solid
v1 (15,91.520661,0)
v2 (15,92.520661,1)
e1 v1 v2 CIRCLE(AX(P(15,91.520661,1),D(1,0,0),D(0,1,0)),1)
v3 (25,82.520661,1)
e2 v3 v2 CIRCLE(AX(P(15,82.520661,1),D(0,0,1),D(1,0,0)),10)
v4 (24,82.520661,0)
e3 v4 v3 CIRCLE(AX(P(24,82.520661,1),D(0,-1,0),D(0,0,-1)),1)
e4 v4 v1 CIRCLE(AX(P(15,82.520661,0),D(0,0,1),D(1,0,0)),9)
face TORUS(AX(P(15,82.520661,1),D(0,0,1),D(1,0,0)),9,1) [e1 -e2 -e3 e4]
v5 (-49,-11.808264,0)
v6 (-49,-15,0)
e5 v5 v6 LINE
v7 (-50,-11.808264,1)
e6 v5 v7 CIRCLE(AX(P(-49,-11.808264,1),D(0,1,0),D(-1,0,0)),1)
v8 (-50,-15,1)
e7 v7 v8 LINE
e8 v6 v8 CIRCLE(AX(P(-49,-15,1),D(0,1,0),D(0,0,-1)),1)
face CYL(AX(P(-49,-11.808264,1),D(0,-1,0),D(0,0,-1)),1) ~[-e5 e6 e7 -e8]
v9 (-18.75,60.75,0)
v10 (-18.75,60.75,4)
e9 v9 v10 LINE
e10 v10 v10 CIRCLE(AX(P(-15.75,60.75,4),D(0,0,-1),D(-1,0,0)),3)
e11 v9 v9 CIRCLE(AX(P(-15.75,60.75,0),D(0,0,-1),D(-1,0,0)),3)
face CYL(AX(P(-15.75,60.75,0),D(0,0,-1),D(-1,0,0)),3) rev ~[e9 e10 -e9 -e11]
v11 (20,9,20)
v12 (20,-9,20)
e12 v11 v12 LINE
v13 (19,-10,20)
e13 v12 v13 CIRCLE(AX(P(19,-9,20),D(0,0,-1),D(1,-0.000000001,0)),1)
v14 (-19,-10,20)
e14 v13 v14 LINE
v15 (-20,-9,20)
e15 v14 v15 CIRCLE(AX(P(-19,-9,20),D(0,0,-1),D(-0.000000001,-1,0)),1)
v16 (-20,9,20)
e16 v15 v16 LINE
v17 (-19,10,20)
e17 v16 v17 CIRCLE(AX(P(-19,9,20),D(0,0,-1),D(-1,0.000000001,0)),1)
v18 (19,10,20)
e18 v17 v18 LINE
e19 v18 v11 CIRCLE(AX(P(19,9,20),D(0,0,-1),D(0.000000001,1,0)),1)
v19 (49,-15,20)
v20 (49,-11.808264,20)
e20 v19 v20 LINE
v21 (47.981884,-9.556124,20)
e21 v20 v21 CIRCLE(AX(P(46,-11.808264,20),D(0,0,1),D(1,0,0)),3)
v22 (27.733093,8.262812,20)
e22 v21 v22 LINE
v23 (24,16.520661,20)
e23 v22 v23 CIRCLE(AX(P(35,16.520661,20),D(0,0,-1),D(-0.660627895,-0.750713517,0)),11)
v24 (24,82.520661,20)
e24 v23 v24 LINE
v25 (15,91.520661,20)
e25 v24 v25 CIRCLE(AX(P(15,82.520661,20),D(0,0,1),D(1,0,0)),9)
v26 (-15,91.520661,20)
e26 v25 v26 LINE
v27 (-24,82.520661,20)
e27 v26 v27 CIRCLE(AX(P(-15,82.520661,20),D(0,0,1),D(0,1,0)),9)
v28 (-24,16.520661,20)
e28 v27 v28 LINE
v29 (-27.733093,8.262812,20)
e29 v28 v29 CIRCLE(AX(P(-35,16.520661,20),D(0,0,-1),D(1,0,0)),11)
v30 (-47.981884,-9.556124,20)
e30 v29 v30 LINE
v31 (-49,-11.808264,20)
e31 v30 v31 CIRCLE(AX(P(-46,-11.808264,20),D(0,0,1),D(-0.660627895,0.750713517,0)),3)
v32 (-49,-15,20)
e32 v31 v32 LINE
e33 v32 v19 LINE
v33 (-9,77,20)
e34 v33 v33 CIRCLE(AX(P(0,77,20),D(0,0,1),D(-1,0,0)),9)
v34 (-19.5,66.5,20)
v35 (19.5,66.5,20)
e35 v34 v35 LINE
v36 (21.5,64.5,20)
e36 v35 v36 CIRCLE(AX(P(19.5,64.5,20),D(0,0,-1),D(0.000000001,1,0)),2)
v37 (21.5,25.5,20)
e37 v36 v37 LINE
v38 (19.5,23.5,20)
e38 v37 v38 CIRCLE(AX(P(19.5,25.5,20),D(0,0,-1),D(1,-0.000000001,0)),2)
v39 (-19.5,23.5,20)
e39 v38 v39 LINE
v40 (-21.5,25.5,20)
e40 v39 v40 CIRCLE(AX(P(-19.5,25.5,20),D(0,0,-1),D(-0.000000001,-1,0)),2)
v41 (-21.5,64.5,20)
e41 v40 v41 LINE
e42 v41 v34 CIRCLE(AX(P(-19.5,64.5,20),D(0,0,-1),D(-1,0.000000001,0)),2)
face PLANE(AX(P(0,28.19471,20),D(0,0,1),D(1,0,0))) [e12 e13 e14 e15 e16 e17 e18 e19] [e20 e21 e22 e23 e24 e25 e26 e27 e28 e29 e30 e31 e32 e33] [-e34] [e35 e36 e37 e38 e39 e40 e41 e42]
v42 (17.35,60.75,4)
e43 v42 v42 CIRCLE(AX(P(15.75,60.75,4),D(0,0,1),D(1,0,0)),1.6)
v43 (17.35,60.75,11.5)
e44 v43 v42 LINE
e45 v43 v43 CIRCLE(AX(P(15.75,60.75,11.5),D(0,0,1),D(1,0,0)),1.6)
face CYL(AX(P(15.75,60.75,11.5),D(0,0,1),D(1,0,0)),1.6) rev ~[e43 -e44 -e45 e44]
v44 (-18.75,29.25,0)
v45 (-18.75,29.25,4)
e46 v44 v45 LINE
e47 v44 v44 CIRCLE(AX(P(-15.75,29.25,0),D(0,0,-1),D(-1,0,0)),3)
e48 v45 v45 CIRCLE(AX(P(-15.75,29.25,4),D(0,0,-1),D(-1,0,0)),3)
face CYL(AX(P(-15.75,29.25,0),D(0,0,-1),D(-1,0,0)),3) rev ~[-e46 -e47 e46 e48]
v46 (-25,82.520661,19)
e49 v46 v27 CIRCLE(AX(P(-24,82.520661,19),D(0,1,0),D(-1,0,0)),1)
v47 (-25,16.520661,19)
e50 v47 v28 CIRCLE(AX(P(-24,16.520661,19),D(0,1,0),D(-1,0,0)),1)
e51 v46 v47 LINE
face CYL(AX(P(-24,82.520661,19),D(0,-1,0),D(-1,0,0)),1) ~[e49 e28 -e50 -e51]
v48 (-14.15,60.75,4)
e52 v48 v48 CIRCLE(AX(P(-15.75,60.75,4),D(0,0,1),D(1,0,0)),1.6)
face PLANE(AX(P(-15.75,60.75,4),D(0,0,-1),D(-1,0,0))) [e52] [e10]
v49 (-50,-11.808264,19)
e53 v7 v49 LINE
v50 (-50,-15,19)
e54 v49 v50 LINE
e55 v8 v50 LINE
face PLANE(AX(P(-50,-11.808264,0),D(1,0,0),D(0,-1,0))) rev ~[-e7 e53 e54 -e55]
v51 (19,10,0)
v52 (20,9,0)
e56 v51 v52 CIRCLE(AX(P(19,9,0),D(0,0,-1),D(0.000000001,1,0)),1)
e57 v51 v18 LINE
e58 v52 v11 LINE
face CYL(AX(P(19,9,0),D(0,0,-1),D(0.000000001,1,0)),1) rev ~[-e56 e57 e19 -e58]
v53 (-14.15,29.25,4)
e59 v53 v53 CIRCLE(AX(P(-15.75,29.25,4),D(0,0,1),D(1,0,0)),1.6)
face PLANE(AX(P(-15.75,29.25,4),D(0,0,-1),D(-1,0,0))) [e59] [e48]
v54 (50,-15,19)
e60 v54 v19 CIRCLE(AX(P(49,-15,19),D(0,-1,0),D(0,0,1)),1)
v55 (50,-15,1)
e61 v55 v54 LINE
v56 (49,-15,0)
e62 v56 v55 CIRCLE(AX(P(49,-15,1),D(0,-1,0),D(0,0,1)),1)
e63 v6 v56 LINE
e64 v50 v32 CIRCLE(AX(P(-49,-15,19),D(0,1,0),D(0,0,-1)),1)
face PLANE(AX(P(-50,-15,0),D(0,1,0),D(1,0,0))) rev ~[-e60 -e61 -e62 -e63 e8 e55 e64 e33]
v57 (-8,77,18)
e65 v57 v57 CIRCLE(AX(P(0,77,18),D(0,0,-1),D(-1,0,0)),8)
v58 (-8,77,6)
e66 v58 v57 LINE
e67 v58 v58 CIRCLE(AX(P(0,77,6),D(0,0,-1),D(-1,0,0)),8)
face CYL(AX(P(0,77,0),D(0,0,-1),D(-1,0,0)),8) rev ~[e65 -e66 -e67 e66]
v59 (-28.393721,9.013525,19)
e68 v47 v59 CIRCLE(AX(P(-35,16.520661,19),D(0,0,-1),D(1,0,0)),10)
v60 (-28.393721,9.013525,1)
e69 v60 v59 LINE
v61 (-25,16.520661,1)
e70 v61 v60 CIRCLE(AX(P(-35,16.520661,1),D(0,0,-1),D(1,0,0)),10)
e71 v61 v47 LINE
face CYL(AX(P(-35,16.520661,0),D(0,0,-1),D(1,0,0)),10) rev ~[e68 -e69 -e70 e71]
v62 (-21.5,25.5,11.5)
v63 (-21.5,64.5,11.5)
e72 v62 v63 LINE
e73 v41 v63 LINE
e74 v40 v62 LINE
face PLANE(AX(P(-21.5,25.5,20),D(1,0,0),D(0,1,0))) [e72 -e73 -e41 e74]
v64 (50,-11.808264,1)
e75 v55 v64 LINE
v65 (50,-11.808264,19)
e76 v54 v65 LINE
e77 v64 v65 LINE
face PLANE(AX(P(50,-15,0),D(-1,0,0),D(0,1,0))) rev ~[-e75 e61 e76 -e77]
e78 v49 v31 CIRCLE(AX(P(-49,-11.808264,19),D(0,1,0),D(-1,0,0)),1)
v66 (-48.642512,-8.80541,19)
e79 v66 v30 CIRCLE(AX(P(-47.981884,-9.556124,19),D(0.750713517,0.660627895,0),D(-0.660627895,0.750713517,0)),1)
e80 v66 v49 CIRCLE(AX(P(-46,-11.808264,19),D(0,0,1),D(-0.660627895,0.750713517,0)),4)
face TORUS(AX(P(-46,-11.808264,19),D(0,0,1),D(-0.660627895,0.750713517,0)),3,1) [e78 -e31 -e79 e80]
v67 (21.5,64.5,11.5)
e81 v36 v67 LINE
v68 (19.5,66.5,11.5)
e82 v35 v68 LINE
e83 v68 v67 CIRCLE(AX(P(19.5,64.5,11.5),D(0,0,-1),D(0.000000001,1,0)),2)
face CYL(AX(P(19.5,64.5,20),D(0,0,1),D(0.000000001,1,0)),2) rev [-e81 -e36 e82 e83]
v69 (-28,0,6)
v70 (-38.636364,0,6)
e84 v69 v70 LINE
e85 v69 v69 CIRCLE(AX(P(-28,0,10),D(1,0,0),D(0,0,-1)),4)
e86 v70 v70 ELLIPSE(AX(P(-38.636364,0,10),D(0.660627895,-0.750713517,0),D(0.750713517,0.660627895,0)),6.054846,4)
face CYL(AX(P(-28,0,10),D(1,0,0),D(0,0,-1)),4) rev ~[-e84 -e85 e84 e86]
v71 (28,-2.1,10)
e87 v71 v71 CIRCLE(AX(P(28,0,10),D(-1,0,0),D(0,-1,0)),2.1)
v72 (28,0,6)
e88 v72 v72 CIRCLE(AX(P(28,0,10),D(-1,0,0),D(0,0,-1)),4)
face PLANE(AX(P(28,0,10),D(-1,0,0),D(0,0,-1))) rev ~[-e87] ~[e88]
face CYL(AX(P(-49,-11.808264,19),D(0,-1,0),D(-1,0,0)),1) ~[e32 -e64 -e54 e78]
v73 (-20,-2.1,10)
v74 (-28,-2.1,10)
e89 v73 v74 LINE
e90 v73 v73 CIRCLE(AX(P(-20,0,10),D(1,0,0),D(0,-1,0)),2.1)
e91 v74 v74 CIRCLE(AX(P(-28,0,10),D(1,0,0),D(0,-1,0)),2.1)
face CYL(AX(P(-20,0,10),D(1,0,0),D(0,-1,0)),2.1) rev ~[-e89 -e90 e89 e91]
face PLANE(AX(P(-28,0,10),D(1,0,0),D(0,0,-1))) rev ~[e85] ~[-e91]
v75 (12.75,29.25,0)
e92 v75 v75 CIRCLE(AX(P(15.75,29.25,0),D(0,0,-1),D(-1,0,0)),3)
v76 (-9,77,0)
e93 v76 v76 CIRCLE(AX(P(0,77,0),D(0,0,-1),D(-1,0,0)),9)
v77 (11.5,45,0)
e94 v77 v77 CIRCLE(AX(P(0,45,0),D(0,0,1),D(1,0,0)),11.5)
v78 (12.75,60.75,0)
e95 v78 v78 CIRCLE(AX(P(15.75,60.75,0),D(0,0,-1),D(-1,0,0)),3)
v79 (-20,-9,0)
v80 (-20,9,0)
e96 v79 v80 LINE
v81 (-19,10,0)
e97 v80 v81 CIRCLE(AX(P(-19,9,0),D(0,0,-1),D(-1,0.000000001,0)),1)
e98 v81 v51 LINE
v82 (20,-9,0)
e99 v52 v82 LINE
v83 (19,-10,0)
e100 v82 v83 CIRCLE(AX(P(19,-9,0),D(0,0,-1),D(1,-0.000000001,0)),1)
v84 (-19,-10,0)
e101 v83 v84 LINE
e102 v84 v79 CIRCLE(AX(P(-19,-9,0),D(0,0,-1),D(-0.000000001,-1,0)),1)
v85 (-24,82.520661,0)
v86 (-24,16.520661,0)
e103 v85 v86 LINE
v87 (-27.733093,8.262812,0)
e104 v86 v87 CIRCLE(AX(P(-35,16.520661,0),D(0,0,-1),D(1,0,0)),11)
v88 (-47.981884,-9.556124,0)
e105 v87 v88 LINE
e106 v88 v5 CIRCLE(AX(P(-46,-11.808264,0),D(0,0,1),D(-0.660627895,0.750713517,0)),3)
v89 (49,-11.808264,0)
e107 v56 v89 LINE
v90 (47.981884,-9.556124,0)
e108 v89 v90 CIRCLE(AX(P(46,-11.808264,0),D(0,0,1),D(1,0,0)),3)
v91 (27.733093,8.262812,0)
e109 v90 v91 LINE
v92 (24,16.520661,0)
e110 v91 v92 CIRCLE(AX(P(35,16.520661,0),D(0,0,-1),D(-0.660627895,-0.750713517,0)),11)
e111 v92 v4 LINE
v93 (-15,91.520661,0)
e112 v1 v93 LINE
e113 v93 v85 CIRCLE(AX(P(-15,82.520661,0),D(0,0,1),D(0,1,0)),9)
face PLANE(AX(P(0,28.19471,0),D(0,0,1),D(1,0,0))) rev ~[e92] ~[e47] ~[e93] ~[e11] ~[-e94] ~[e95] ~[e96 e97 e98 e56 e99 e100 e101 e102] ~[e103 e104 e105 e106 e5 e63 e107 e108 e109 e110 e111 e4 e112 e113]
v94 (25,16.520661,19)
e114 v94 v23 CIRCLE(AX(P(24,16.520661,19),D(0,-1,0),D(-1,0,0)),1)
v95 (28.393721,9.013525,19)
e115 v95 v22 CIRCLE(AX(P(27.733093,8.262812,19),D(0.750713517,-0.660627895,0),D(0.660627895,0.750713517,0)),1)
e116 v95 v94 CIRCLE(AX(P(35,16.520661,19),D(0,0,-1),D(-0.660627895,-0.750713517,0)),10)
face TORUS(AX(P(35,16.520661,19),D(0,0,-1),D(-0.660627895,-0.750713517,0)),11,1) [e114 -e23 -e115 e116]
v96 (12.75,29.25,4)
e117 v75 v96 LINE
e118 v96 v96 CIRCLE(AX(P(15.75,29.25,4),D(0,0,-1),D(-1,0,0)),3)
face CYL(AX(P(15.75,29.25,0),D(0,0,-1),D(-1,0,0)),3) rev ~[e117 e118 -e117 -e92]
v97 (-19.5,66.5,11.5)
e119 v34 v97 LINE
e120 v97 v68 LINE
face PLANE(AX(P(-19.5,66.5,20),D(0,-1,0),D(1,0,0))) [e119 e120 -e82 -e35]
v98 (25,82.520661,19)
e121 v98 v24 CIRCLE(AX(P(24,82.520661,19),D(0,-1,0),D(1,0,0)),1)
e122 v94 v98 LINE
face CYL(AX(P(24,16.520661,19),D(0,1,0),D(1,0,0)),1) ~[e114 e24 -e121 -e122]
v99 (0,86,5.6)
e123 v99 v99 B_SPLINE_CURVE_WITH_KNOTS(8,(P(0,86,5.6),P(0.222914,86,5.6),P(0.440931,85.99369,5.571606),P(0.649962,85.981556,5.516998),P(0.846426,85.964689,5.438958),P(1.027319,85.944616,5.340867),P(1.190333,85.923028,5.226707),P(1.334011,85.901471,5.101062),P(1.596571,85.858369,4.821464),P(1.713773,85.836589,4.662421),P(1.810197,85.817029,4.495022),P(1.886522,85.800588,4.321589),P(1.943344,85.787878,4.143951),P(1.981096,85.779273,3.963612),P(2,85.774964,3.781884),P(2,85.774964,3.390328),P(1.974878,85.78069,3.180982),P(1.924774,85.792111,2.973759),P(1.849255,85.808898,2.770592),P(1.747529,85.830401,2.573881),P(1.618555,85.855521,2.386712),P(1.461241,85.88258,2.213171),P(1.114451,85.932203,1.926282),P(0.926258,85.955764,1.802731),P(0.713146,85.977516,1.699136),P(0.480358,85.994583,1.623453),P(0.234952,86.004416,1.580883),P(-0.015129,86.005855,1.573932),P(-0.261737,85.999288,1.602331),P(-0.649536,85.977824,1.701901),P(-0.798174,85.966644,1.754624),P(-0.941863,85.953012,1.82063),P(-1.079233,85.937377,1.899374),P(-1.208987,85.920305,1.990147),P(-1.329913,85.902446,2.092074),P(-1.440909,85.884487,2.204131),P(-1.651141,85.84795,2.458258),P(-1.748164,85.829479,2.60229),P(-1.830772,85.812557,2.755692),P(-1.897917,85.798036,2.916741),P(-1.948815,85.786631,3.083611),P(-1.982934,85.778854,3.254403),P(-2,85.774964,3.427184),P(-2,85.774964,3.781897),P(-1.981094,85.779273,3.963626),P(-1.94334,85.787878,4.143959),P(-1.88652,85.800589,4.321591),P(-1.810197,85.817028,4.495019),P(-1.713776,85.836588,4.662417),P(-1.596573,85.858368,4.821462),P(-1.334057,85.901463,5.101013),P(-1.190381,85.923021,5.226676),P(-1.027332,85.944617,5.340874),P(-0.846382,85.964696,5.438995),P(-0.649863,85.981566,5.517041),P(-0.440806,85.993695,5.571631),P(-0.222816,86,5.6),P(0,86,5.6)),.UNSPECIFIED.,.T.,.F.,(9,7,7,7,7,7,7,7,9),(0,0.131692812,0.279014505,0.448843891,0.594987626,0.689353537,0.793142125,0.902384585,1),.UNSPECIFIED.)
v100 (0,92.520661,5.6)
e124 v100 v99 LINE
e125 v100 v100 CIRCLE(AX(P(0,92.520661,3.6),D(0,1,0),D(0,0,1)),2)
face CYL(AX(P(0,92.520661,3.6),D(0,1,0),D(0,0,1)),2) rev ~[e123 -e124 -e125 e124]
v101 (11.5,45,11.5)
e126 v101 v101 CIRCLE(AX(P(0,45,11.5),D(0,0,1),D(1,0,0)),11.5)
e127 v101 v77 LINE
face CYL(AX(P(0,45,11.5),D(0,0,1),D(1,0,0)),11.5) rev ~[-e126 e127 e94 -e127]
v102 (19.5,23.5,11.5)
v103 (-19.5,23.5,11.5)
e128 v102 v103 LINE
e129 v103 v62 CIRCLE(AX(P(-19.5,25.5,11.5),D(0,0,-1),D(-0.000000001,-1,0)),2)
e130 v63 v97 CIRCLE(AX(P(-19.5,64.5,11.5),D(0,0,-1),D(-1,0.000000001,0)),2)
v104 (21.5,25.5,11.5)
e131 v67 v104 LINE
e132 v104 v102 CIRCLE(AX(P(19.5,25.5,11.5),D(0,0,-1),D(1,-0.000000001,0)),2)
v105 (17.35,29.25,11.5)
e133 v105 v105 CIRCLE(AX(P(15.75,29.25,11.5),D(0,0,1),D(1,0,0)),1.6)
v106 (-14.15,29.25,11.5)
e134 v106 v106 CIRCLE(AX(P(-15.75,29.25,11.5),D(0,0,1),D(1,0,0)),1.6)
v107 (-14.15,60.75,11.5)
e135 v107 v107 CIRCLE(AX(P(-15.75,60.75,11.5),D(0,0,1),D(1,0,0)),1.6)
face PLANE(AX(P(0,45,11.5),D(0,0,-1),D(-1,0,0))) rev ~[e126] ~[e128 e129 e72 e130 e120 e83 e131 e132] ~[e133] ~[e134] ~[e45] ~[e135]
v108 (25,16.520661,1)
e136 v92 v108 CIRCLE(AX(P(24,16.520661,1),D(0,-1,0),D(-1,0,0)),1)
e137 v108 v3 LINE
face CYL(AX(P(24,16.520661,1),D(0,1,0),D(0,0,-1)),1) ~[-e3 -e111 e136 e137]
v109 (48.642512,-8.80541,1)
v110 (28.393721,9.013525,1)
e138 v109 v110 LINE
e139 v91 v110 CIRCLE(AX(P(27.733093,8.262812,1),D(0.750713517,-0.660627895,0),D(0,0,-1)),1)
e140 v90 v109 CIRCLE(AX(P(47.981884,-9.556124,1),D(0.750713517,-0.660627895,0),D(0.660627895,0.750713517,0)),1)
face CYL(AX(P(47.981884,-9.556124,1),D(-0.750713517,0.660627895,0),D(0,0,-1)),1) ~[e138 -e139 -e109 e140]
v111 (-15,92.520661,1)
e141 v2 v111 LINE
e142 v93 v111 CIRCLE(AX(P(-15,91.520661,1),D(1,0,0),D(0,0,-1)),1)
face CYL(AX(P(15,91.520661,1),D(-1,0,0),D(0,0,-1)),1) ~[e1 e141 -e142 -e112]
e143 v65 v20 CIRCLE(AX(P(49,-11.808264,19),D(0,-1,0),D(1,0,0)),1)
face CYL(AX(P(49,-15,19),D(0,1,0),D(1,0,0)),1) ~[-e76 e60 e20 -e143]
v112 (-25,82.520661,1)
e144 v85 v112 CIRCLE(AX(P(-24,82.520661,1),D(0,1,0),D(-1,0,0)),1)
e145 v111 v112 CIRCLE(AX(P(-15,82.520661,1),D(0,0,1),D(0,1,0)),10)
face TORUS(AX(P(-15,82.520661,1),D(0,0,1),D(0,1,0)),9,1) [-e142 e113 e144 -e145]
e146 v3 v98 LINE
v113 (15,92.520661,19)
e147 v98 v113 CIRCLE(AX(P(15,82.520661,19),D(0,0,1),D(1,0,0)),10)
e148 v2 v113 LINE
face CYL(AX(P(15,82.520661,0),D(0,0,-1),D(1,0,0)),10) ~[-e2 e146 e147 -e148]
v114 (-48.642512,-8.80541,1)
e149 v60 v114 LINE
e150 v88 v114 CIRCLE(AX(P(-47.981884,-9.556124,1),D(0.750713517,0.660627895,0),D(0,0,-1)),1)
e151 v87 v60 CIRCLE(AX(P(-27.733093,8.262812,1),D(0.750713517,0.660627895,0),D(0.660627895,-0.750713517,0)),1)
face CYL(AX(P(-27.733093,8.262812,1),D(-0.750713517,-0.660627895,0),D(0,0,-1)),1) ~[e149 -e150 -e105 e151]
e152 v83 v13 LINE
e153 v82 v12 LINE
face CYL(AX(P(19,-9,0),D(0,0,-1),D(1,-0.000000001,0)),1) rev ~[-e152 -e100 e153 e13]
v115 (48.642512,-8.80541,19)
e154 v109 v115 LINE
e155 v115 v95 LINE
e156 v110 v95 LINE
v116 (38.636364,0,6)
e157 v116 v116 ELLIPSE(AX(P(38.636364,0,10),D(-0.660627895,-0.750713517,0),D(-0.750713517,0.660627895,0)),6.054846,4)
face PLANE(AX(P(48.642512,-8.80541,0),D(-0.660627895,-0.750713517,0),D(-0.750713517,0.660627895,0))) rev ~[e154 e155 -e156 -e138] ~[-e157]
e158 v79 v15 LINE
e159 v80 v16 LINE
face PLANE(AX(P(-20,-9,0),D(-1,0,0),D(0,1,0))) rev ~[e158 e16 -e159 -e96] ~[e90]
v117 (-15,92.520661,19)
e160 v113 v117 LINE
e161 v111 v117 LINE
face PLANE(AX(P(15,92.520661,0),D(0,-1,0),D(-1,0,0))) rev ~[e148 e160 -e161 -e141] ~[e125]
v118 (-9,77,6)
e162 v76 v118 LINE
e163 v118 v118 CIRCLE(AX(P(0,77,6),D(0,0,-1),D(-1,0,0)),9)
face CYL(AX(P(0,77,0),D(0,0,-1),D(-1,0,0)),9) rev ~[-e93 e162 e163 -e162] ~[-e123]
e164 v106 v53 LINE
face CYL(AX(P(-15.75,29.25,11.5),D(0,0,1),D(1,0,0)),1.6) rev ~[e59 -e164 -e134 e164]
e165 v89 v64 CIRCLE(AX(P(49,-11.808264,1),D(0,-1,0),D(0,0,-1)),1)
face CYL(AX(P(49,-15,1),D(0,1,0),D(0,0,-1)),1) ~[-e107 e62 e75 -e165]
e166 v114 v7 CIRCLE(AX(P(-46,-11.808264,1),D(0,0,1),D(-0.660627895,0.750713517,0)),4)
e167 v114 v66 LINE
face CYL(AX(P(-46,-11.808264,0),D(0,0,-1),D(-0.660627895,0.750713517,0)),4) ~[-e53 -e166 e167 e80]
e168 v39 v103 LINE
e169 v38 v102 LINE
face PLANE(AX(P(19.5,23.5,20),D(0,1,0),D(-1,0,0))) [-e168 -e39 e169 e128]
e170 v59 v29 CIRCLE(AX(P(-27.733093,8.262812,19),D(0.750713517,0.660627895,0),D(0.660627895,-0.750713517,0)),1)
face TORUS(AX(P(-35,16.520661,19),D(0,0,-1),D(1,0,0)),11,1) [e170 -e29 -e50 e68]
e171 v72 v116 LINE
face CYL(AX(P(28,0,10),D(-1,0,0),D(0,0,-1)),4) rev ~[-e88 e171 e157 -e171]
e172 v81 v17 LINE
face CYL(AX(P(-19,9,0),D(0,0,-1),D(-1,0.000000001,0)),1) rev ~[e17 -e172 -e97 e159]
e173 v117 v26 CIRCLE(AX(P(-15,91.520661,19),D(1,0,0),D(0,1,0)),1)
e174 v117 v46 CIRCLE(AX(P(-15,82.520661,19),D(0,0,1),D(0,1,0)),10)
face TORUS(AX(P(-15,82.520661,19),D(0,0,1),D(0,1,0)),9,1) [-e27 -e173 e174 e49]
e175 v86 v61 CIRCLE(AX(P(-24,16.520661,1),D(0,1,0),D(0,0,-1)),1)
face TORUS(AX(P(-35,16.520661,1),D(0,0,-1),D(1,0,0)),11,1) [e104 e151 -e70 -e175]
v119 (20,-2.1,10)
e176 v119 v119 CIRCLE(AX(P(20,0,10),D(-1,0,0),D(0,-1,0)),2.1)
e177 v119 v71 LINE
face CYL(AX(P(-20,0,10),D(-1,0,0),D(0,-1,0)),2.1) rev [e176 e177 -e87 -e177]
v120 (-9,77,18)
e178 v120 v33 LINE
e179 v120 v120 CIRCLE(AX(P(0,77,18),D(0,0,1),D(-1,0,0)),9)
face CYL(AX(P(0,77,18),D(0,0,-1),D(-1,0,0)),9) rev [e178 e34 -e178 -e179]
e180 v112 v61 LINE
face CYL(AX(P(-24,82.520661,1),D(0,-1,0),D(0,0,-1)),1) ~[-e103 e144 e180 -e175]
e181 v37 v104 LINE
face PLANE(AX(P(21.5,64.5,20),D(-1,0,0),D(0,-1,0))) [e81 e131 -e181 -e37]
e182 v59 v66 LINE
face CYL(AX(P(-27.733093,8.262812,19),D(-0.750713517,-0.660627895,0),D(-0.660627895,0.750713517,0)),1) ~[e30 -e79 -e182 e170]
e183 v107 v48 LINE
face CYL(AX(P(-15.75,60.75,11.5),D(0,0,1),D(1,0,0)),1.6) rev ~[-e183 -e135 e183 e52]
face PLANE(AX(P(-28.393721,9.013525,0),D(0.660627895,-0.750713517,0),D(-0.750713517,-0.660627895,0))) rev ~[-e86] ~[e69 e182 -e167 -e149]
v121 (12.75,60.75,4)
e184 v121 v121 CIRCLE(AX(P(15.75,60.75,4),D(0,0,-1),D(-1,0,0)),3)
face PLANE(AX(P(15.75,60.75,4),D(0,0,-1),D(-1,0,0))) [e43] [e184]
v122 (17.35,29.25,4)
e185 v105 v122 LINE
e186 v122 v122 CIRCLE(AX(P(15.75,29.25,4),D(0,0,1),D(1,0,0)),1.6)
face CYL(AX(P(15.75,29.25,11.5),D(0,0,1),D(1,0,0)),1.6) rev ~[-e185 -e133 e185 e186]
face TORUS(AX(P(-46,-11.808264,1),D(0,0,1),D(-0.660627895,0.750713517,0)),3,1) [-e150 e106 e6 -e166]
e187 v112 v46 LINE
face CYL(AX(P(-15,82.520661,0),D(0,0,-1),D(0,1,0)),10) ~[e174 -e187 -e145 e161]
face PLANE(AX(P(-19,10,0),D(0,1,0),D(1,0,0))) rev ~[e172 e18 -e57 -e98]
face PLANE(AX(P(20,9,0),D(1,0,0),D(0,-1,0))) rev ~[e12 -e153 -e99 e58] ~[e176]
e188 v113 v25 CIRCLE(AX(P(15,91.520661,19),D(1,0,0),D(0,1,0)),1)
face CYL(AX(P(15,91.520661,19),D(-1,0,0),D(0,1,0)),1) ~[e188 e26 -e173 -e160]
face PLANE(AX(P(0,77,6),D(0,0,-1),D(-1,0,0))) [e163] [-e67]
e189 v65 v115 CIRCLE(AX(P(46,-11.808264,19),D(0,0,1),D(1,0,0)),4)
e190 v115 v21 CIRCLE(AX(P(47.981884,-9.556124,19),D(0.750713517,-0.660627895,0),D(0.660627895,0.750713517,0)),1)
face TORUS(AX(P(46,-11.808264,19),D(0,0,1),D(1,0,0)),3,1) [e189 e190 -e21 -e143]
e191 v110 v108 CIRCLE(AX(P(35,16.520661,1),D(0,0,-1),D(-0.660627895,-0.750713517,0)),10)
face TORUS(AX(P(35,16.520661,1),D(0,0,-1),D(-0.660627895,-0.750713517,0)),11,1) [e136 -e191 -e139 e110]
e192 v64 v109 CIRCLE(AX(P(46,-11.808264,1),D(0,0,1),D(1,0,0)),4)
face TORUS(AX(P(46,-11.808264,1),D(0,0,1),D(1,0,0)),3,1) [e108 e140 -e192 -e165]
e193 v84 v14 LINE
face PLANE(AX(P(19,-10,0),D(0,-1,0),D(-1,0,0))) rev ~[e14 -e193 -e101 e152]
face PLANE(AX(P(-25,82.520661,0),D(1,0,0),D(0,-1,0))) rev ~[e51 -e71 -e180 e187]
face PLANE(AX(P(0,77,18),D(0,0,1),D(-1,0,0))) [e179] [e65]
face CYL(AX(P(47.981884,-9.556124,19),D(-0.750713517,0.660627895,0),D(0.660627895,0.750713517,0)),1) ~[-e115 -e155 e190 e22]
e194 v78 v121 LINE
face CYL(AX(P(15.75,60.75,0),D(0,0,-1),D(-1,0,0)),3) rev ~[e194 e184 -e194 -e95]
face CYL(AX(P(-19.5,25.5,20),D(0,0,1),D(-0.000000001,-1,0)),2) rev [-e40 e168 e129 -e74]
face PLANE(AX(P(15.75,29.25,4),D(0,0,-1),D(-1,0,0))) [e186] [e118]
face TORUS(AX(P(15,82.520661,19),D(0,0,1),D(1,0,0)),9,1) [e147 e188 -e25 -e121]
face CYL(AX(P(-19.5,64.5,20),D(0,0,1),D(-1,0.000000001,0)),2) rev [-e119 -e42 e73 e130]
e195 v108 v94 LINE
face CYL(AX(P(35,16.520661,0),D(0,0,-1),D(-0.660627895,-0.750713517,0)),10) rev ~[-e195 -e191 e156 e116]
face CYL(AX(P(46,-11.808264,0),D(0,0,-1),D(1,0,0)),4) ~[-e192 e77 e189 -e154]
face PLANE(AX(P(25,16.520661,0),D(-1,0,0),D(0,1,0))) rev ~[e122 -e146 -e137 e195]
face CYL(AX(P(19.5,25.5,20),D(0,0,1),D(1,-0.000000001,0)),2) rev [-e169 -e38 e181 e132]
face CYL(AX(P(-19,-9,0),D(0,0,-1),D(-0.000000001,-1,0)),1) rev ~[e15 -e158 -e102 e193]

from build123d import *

# Parameters (mm, degrees)
BOSS_EXTRUDE1_DEPTH             = 20
CUT_EXTRUDE3_DEPTH              = 8.5
CUT_EXTRUDE4_REACH              = 107.794
SKETCH5_R                       = 11.5
SKETCH5_R_2                     = 1.6
CUT_EXTRUDE5_REACH              = 109.052
SKETCH6_R                       = 8
SKETCH7_R                       = 3
CUT_EXTRUDE6_DEPTH              = 4
SKETCH8_R                       = 9
CUT_EXTRUDE7_DEPTH              = 6
CUT_EXTRUDE8_START              = -2
SKETCH9_R                       = 9
CUT_EXTRUDE8_DEPTH              = 2
CUT_EXTRUDE9_REACH              = 122.253
CUT_EXTRUDE9_END_RADIUS         = 9
SKETCH10_R                      = 2
FILLET1_R                       = 1
CUT_EXTRUDE10_REACH             = 119.729
SKETCH11_R                      = 2.1
CUT_EXTRUDE10_DIRECTION_2_REACH = 119.729
CUT_EXTRUDE11_REACH             = 127.729
CUT_EXTRUDE11_START             = -8
SKETCH12_R                      = 4
CUT_EXTRUDE12_REACH             = 127.729
CUT_EXTRUDE12_START             = -8
SKETCH13_R                      = 4


with BuildPart() as part:
    # Sketch1 → Boss-Extrude1 (new body)
    with BuildSketch(Plane.XY):
        with BuildLine():
            Line((-50, -15), (50, -15))
            Line((50, -15), (50, -11.808264258))
            ThreePointArc((50, -11.808264258), (49.644862571, -10.16054558), (48.64251158, -8.80541019))
            Line((48.64251158, -8.80541019), (28.393721051, 9.013525475))
            ThreePointArc((28.393721051, 9.013525475), (25.887843573, 12.40136395), (25, 16.520660644))
            Line((25, 16.520660644), (25, 82.520660644))
            ThreePointArc((25, 82.520660644), (22.071067812, 89.591728456), (15, 92.520660644))
            Line((15, 92.520660644), (-15, 92.520660644))
            ThreePointArc((-15, 92.520660644), (-22.071067812, 89.591728456), (-25, 82.520660644))
            Line((-25, 82.520660644), (-25, 16.520660644))
            ThreePointArc((-25, 16.520660644), (-25.887843573, 12.40136395), (-28.393721051, 9.013525475))
            Line((-28.393721051, 9.013525475), (-48.64251158, -8.80541019))
            ThreePointArc((-48.64251158, -8.80541019), (-49.644862571, -10.16054558), (-50, -11.808264258))
            Line((-50, -11.808264258), (-50, -15))
        make_face()
        with BuildLine():
            Line((-19, 10), (19, 10))
            ThreePointArc((19, 10), (19.707106781, 9.707106781), (20, 9))
            Line((20, 9), (20, -9))
            ThreePointArc((20, -9), (19.707106781, -9.707106781), (19, -10))
            Line((19, -10), (-19, -10))
            ThreePointArc((-19, -10), (-19.707106781, -9.707106781), (-20, -9))
            Line((-20, -9), (-20, 9))
            ThreePointArc((-20, 9), (-19.707106781, 9.707106781), (-19, 10))
        make_face(mode=Mode.SUBTRACT)
    extrude(amount=BOSS_EXTRUDE1_DEPTH)

    # Sketch4 → Cut-Extrude3 (cut)
    with BuildSketch(Plane.XY.offset(20)):
        with BuildLine():
            Line((-19.5, 66.5), (19.5, 66.5))
            ThreePointArc((19.5, 66.5), (20.914213562, 65.914213562), (21.5, 64.5))
            Line((21.5, 64.5), (21.5, 25.5))
            ThreePointArc((21.5, 25.5), (20.914213562, 24.085786438), (19.5, 23.5))
            Line((19.5, 23.5), (-19.5, 23.5))
            ThreePointArc((-19.5, 23.5), (-20.914213562, 24.085786438), (-21.5, 25.5))
            Line((-21.5, 25.5), (-21.5, 64.5))
            ThreePointArc((-21.5, 64.5), (-20.914213562, 65.914213562), (-19.5, 66.5))
        make_face()
    extrude(amount=-CUT_EXTRUDE3_DEPTH, mode=Mode.SUBTRACT)

    # Sketch5 → Cut-Extrude4 (cut, up to next)
    with BuildSketch(Plane.XY.offset(11.5), mode=Mode.PRIVATE) as cut_extrude4_sk1:
        with Locations((0, 45)):
            Circle(SKETCH5_R)
    cut_extrude4_tool1 = extrude(cut_extrude4_sk1.sketch, amount=-CUT_EXTRUDE4_REACH, mode=Mode.PRIVATE) & part.part
    # Sketch5 → Cut-Extrude4 (cut, up to next)
    with BuildSketch(Plane.XY.offset(11.5), mode=Mode.PRIVATE) as cut_extrude4_sk2:
        with Locations((-15.75, 60.75)):
            Circle(SKETCH5_R_2)
    cut_extrude4_tool2 = extrude(cut_extrude4_sk2.sketch, amount=-CUT_EXTRUDE4_REACH, mode=Mode.PRIVATE) & part.part
    # Sketch5 → Cut-Extrude4 (cut, up to next)
    with BuildSketch(Plane.XY.offset(11.5), mode=Mode.PRIVATE) as cut_extrude4_sk3:
        with Locations((15.75, 60.75)):
            Circle(SKETCH5_R_2)
    cut_extrude4_tool3 = extrude(cut_extrude4_sk3.sketch, amount=-CUT_EXTRUDE4_REACH, mode=Mode.PRIVATE) & part.part
    # Sketch5 → Cut-Extrude4 (cut, up to next)
    with BuildSketch(Plane.XY.offset(11.5), mode=Mode.PRIVATE) as cut_extrude4_sk4:
        with Locations((-15.75, 29.25)):
            Circle(SKETCH5_R_2)
    cut_extrude4_tool4 = extrude(cut_extrude4_sk4.sketch, amount=-CUT_EXTRUDE4_REACH, mode=Mode.PRIVATE) & part.part
    # Sketch5 → Cut-Extrude4 (cut, up to next)
    with BuildSketch(Plane.XY.offset(11.5), mode=Mode.PRIVATE) as cut_extrude4_sk5:
        with Locations((15.75, 29.25)):
            Circle(SKETCH5_R_2)
    cut_extrude4_tool5 = extrude(cut_extrude4_sk5.sketch, amount=-CUT_EXTRUDE4_REACH, mode=Mode.PRIVATE) & part.part
    add(cut_extrude4_tool1.solids().sort_by_distance((0, 45, 11.5))[0], mode=Mode.SUBTRACT)
    add(cut_extrude4_tool2.solids().sort_by_distance((-15.75, 60.75, 11.5))[0], mode=Mode.SUBTRACT)
    add(cut_extrude4_tool3.solids().sort_by_distance((15.75, 60.75, 11.5))[0], mode=Mode.SUBTRACT)
    add(cut_extrude4_tool4.solids().sort_by_distance((-15.75, 29.25, 11.5))[0], mode=Mode.SUBTRACT)
    add(cut_extrude4_tool5.solids().sort_by_distance((15.75, 29.25, 11.5))[0], mode=Mode.SUBTRACT)

    # Sketch6 → Cut-Extrude5 (cut, up to next)
    with BuildSketch(Plane(origin=(0, 0, 0), x_dir=(-1, 0, 0), z_dir=(0, 0, -1)), mode=Mode.PRIVATE) as cut_extrude5_sk1:
        with Locations((0, 77)):
            Circle(SKETCH6_R)
    cut_extrude5_tool1 = extrude(cut_extrude5_sk1.sketch, amount=-CUT_EXTRUDE5_REACH, mode=Mode.PRIVATE) & part.part
    add(cut_extrude5_tool1.solids().sort_by_distance((0, 77, 0))[0], mode=Mode.SUBTRACT)

    # Sketch7 → Cut-Extrude6 (cut)
    with BuildSketch(Plane(origin=(0, 0, 0), x_dir=(-1, 0, 0), z_dir=(0, 0, -1))):
        with Locations((-15.75, 60.75)):
            Circle(SKETCH7_R)
        with Locations((15.75, 60.75)):
            Circle(SKETCH7_R)
        with Locations((15.75, 29.25)):
            Circle(SKETCH7_R)
        with Locations((-15.75, 29.25)):
            Circle(SKETCH7_R)
    extrude(amount=-CUT_EXTRUDE6_DEPTH, mode=Mode.SUBTRACT)

    # Sketch8 → Cut-Extrude7 (cut)
    with BuildSketch(Plane(origin=(0, 0, 0), x_dir=(-1, 0, 0), z_dir=(0, 0, -1))):
        with Locations((0, 77)):
            Circle(SKETCH8_R)
    extrude(amount=-CUT_EXTRUDE7_DEPTH, mode=Mode.SUBTRACT)

    # Sketch9 → Cut-Extrude8 (cut)
    with BuildSketch(Plane.XY.offset(20).offset(CUT_EXTRUDE8_START)):
        with Locations(Location((0, 77, 0), (0, 0, 180))):
            Circle(SKETCH9_R)
    extrude(amount=CUT_EXTRUDE8_DEPTH, mode=Mode.SUBTRACT)

    # Cut-Extrude9: up to this cylinder (the profile starts outside it)
    cut_extrude9_end = Plane(origin=(0, 77, 3.6), z_dir=(0, 0, -1)) * Cylinder(CUT_EXTRUDE9_END_RADIUS, 263.506, mode=Mode.PRIVATE)
    # Sketch10 → Cut-Extrude9 (cut, up to the surface)
    with BuildSketch(Plane(origin=(0, 92.520660644, 0), x_dir=(1, 0, 0), z_dir=(0, 1, 0)), mode=Mode.PRIVATE) as cut_extrude9_sk1:
        with Locations(Location((0, -3.6, 0), (0, 0, 270))):
            Circle(SKETCH10_R)
    cut_extrude9_tool1 = extrude(cut_extrude9_sk1.sketch, amount=-CUT_EXTRUDE9_REACH, mode=Mode.PRIVATE) - cut_extrude9_end
    add(cut_extrude9_tool1.solids().sort_by_distance((0, 92.520661, 3.6))[0], mode=Mode.SUBTRACT)

    # Fillet1
    fillet1_edges = [part.edges().sort_by_distance(p)[0] for p in [
        (50, -13.404132129, 20),
        (-49.644862571, -10.16054558, 0),
        (-38.518116315, 0.104057643, 0),
        (49.644862571, -10.16054558, 20),
        (-25.887843573, 12.40136395, 0),
        (-25, 49.520660644, 0),
        (-22.071067812, 89.591728456, 0),
        (0, 92.520660644, 0),
        (22.071067812, 89.591728456, 0),
        (25, 49.520660644, 0),
        (25.887843573, 12.40136395, 0),
        (38.518116315, 0.104057643, 20),
        (38.518116315, 0.104057643, 0),
        (49.644862571, -10.16054558, 0),
        (50, -13.404132129, 0),
        (-50, -13.404132129, 0),
        (25.887843573, 12.40136395, 20),
        (25, 49.520660644, 20),
        (22.071067812, 89.591728456, 20),
        (0, 92.520660644, 20),
        (-22.071067812, 89.591728456, 20),
        (-25, 49.520660644, 20),
        (-25.887843573, 12.40136395, 20),
        (-50, -13.404132129, 20),
        (-38.518116315, 0.104057643, 20),
        (-49.644862571, -10.16054558, 20),
    ]]
    fillet(fillet1_edges, radius=FILLET1_R)

    # Sketch11 → Cut-Extrude10 (cut, up to next)
    with BuildSketch(Plane(origin=(-20, 0, 0), x_dir=(0, 0, -1), z_dir=(1, 0, 0)), mode=Mode.PRIVATE) as cut_extrude10_sk1:
        with Locations(Location((-10, 0, 0), (0, 0, 270))):
            Circle(SKETCH11_R)
    cut_extrude10_tool1 = extrude(cut_extrude10_sk1.sketch, amount=-CUT_EXTRUDE10_REACH, mode=Mode.PRIVATE) & part.part
    add(cut_extrude10_tool1.solids().sort_by_distance((-20, 0, 10))[0], mode=Mode.SUBTRACT)

    # Sketch11 → Cut-Extrude10 direction 2 (cut, up to next)
    with BuildSketch(Plane(origin=(-20, 0, 0), x_dir=(0, 0, -1), z_dir=(1, 0, 0)), mode=Mode.PRIVATE) as cut_extrude10_direction_2_sk1:
        with Locations(Location((-10, 0, 0), (0, 0, 270))):
            Circle(SKETCH11_R)
    cut_extrude10_direction_2_tool1 = extrude(cut_extrude10_direction_2_sk1.sketch, amount=CUT_EXTRUDE10_DIRECTION_2_REACH, mode=Mode.PRIVATE) & part.part
    add(cut_extrude10_direction_2_tool1.solids().sort_by_distance((-20, 0, 10))[0], mode=Mode.SUBTRACT)

    # Cut-Extrude11: up to this plane
    cut_extrude11_end = Plane(origin=(-48.64251158, -8.80541019, 20), z_dir=(0.6606278948920247, -0.7507135169227553, 0))
    # Sketch12 → Cut-Extrude11 (cut, up to the surface)
    with BuildSketch(Plane(origin=(-20, 0, 0), x_dir=(0, 0, -1), z_dir=(1, 0, 0)).offset(CUT_EXTRUDE11_START), mode=Mode.PRIVATE) as cut_extrude11_sk1:
        with Locations((-10, 0)):
            Circle(SKETCH12_R)
    cut_extrude11_tool1 = split(extrude(cut_extrude11_sk1.sketch, amount=-CUT_EXTRUDE11_REACH, mode=Mode.PRIVATE), bisect_by=cut_extrude11_end, keep=Keep.BOTH, mode=Mode.PRIVATE)
    add(cut_extrude11_tool1.solids().sort_by_distance((-28, 0, 10))[0], mode=Mode.SUBTRACT)

    # Cut-Extrude12: up to this plane
    cut_extrude12_end = Plane(origin=(48.64251158, -8.80541019, 20), z_dir=(-0.660627894892025, -0.750713516922755, 0))
    # Sketch13 → Cut-Extrude12 (cut, up to the surface)
    with BuildSketch(Plane.ZY.offset(-20).offset(CUT_EXTRUDE12_START), mode=Mode.PRIVATE) as cut_extrude12_sk1:
        with Locations(Location((10, 0, 0), (0, 0, 180))):
            Circle(SKETCH13_R)
    cut_extrude12_tool1 = split(extrude(cut_extrude12_sk1.sketch, amount=-CUT_EXTRUDE12_REACH, mode=Mode.PRIVATE), bisect_by=cut_extrude12_end, keep=Keep.BOTH, mode=Mode.PRIVATE)
    add(cut_extrude12_tool1.solids().sort_by_distance((28, 0, 10))[0], mode=Mode.SUBTRACT)


solid = part.part
